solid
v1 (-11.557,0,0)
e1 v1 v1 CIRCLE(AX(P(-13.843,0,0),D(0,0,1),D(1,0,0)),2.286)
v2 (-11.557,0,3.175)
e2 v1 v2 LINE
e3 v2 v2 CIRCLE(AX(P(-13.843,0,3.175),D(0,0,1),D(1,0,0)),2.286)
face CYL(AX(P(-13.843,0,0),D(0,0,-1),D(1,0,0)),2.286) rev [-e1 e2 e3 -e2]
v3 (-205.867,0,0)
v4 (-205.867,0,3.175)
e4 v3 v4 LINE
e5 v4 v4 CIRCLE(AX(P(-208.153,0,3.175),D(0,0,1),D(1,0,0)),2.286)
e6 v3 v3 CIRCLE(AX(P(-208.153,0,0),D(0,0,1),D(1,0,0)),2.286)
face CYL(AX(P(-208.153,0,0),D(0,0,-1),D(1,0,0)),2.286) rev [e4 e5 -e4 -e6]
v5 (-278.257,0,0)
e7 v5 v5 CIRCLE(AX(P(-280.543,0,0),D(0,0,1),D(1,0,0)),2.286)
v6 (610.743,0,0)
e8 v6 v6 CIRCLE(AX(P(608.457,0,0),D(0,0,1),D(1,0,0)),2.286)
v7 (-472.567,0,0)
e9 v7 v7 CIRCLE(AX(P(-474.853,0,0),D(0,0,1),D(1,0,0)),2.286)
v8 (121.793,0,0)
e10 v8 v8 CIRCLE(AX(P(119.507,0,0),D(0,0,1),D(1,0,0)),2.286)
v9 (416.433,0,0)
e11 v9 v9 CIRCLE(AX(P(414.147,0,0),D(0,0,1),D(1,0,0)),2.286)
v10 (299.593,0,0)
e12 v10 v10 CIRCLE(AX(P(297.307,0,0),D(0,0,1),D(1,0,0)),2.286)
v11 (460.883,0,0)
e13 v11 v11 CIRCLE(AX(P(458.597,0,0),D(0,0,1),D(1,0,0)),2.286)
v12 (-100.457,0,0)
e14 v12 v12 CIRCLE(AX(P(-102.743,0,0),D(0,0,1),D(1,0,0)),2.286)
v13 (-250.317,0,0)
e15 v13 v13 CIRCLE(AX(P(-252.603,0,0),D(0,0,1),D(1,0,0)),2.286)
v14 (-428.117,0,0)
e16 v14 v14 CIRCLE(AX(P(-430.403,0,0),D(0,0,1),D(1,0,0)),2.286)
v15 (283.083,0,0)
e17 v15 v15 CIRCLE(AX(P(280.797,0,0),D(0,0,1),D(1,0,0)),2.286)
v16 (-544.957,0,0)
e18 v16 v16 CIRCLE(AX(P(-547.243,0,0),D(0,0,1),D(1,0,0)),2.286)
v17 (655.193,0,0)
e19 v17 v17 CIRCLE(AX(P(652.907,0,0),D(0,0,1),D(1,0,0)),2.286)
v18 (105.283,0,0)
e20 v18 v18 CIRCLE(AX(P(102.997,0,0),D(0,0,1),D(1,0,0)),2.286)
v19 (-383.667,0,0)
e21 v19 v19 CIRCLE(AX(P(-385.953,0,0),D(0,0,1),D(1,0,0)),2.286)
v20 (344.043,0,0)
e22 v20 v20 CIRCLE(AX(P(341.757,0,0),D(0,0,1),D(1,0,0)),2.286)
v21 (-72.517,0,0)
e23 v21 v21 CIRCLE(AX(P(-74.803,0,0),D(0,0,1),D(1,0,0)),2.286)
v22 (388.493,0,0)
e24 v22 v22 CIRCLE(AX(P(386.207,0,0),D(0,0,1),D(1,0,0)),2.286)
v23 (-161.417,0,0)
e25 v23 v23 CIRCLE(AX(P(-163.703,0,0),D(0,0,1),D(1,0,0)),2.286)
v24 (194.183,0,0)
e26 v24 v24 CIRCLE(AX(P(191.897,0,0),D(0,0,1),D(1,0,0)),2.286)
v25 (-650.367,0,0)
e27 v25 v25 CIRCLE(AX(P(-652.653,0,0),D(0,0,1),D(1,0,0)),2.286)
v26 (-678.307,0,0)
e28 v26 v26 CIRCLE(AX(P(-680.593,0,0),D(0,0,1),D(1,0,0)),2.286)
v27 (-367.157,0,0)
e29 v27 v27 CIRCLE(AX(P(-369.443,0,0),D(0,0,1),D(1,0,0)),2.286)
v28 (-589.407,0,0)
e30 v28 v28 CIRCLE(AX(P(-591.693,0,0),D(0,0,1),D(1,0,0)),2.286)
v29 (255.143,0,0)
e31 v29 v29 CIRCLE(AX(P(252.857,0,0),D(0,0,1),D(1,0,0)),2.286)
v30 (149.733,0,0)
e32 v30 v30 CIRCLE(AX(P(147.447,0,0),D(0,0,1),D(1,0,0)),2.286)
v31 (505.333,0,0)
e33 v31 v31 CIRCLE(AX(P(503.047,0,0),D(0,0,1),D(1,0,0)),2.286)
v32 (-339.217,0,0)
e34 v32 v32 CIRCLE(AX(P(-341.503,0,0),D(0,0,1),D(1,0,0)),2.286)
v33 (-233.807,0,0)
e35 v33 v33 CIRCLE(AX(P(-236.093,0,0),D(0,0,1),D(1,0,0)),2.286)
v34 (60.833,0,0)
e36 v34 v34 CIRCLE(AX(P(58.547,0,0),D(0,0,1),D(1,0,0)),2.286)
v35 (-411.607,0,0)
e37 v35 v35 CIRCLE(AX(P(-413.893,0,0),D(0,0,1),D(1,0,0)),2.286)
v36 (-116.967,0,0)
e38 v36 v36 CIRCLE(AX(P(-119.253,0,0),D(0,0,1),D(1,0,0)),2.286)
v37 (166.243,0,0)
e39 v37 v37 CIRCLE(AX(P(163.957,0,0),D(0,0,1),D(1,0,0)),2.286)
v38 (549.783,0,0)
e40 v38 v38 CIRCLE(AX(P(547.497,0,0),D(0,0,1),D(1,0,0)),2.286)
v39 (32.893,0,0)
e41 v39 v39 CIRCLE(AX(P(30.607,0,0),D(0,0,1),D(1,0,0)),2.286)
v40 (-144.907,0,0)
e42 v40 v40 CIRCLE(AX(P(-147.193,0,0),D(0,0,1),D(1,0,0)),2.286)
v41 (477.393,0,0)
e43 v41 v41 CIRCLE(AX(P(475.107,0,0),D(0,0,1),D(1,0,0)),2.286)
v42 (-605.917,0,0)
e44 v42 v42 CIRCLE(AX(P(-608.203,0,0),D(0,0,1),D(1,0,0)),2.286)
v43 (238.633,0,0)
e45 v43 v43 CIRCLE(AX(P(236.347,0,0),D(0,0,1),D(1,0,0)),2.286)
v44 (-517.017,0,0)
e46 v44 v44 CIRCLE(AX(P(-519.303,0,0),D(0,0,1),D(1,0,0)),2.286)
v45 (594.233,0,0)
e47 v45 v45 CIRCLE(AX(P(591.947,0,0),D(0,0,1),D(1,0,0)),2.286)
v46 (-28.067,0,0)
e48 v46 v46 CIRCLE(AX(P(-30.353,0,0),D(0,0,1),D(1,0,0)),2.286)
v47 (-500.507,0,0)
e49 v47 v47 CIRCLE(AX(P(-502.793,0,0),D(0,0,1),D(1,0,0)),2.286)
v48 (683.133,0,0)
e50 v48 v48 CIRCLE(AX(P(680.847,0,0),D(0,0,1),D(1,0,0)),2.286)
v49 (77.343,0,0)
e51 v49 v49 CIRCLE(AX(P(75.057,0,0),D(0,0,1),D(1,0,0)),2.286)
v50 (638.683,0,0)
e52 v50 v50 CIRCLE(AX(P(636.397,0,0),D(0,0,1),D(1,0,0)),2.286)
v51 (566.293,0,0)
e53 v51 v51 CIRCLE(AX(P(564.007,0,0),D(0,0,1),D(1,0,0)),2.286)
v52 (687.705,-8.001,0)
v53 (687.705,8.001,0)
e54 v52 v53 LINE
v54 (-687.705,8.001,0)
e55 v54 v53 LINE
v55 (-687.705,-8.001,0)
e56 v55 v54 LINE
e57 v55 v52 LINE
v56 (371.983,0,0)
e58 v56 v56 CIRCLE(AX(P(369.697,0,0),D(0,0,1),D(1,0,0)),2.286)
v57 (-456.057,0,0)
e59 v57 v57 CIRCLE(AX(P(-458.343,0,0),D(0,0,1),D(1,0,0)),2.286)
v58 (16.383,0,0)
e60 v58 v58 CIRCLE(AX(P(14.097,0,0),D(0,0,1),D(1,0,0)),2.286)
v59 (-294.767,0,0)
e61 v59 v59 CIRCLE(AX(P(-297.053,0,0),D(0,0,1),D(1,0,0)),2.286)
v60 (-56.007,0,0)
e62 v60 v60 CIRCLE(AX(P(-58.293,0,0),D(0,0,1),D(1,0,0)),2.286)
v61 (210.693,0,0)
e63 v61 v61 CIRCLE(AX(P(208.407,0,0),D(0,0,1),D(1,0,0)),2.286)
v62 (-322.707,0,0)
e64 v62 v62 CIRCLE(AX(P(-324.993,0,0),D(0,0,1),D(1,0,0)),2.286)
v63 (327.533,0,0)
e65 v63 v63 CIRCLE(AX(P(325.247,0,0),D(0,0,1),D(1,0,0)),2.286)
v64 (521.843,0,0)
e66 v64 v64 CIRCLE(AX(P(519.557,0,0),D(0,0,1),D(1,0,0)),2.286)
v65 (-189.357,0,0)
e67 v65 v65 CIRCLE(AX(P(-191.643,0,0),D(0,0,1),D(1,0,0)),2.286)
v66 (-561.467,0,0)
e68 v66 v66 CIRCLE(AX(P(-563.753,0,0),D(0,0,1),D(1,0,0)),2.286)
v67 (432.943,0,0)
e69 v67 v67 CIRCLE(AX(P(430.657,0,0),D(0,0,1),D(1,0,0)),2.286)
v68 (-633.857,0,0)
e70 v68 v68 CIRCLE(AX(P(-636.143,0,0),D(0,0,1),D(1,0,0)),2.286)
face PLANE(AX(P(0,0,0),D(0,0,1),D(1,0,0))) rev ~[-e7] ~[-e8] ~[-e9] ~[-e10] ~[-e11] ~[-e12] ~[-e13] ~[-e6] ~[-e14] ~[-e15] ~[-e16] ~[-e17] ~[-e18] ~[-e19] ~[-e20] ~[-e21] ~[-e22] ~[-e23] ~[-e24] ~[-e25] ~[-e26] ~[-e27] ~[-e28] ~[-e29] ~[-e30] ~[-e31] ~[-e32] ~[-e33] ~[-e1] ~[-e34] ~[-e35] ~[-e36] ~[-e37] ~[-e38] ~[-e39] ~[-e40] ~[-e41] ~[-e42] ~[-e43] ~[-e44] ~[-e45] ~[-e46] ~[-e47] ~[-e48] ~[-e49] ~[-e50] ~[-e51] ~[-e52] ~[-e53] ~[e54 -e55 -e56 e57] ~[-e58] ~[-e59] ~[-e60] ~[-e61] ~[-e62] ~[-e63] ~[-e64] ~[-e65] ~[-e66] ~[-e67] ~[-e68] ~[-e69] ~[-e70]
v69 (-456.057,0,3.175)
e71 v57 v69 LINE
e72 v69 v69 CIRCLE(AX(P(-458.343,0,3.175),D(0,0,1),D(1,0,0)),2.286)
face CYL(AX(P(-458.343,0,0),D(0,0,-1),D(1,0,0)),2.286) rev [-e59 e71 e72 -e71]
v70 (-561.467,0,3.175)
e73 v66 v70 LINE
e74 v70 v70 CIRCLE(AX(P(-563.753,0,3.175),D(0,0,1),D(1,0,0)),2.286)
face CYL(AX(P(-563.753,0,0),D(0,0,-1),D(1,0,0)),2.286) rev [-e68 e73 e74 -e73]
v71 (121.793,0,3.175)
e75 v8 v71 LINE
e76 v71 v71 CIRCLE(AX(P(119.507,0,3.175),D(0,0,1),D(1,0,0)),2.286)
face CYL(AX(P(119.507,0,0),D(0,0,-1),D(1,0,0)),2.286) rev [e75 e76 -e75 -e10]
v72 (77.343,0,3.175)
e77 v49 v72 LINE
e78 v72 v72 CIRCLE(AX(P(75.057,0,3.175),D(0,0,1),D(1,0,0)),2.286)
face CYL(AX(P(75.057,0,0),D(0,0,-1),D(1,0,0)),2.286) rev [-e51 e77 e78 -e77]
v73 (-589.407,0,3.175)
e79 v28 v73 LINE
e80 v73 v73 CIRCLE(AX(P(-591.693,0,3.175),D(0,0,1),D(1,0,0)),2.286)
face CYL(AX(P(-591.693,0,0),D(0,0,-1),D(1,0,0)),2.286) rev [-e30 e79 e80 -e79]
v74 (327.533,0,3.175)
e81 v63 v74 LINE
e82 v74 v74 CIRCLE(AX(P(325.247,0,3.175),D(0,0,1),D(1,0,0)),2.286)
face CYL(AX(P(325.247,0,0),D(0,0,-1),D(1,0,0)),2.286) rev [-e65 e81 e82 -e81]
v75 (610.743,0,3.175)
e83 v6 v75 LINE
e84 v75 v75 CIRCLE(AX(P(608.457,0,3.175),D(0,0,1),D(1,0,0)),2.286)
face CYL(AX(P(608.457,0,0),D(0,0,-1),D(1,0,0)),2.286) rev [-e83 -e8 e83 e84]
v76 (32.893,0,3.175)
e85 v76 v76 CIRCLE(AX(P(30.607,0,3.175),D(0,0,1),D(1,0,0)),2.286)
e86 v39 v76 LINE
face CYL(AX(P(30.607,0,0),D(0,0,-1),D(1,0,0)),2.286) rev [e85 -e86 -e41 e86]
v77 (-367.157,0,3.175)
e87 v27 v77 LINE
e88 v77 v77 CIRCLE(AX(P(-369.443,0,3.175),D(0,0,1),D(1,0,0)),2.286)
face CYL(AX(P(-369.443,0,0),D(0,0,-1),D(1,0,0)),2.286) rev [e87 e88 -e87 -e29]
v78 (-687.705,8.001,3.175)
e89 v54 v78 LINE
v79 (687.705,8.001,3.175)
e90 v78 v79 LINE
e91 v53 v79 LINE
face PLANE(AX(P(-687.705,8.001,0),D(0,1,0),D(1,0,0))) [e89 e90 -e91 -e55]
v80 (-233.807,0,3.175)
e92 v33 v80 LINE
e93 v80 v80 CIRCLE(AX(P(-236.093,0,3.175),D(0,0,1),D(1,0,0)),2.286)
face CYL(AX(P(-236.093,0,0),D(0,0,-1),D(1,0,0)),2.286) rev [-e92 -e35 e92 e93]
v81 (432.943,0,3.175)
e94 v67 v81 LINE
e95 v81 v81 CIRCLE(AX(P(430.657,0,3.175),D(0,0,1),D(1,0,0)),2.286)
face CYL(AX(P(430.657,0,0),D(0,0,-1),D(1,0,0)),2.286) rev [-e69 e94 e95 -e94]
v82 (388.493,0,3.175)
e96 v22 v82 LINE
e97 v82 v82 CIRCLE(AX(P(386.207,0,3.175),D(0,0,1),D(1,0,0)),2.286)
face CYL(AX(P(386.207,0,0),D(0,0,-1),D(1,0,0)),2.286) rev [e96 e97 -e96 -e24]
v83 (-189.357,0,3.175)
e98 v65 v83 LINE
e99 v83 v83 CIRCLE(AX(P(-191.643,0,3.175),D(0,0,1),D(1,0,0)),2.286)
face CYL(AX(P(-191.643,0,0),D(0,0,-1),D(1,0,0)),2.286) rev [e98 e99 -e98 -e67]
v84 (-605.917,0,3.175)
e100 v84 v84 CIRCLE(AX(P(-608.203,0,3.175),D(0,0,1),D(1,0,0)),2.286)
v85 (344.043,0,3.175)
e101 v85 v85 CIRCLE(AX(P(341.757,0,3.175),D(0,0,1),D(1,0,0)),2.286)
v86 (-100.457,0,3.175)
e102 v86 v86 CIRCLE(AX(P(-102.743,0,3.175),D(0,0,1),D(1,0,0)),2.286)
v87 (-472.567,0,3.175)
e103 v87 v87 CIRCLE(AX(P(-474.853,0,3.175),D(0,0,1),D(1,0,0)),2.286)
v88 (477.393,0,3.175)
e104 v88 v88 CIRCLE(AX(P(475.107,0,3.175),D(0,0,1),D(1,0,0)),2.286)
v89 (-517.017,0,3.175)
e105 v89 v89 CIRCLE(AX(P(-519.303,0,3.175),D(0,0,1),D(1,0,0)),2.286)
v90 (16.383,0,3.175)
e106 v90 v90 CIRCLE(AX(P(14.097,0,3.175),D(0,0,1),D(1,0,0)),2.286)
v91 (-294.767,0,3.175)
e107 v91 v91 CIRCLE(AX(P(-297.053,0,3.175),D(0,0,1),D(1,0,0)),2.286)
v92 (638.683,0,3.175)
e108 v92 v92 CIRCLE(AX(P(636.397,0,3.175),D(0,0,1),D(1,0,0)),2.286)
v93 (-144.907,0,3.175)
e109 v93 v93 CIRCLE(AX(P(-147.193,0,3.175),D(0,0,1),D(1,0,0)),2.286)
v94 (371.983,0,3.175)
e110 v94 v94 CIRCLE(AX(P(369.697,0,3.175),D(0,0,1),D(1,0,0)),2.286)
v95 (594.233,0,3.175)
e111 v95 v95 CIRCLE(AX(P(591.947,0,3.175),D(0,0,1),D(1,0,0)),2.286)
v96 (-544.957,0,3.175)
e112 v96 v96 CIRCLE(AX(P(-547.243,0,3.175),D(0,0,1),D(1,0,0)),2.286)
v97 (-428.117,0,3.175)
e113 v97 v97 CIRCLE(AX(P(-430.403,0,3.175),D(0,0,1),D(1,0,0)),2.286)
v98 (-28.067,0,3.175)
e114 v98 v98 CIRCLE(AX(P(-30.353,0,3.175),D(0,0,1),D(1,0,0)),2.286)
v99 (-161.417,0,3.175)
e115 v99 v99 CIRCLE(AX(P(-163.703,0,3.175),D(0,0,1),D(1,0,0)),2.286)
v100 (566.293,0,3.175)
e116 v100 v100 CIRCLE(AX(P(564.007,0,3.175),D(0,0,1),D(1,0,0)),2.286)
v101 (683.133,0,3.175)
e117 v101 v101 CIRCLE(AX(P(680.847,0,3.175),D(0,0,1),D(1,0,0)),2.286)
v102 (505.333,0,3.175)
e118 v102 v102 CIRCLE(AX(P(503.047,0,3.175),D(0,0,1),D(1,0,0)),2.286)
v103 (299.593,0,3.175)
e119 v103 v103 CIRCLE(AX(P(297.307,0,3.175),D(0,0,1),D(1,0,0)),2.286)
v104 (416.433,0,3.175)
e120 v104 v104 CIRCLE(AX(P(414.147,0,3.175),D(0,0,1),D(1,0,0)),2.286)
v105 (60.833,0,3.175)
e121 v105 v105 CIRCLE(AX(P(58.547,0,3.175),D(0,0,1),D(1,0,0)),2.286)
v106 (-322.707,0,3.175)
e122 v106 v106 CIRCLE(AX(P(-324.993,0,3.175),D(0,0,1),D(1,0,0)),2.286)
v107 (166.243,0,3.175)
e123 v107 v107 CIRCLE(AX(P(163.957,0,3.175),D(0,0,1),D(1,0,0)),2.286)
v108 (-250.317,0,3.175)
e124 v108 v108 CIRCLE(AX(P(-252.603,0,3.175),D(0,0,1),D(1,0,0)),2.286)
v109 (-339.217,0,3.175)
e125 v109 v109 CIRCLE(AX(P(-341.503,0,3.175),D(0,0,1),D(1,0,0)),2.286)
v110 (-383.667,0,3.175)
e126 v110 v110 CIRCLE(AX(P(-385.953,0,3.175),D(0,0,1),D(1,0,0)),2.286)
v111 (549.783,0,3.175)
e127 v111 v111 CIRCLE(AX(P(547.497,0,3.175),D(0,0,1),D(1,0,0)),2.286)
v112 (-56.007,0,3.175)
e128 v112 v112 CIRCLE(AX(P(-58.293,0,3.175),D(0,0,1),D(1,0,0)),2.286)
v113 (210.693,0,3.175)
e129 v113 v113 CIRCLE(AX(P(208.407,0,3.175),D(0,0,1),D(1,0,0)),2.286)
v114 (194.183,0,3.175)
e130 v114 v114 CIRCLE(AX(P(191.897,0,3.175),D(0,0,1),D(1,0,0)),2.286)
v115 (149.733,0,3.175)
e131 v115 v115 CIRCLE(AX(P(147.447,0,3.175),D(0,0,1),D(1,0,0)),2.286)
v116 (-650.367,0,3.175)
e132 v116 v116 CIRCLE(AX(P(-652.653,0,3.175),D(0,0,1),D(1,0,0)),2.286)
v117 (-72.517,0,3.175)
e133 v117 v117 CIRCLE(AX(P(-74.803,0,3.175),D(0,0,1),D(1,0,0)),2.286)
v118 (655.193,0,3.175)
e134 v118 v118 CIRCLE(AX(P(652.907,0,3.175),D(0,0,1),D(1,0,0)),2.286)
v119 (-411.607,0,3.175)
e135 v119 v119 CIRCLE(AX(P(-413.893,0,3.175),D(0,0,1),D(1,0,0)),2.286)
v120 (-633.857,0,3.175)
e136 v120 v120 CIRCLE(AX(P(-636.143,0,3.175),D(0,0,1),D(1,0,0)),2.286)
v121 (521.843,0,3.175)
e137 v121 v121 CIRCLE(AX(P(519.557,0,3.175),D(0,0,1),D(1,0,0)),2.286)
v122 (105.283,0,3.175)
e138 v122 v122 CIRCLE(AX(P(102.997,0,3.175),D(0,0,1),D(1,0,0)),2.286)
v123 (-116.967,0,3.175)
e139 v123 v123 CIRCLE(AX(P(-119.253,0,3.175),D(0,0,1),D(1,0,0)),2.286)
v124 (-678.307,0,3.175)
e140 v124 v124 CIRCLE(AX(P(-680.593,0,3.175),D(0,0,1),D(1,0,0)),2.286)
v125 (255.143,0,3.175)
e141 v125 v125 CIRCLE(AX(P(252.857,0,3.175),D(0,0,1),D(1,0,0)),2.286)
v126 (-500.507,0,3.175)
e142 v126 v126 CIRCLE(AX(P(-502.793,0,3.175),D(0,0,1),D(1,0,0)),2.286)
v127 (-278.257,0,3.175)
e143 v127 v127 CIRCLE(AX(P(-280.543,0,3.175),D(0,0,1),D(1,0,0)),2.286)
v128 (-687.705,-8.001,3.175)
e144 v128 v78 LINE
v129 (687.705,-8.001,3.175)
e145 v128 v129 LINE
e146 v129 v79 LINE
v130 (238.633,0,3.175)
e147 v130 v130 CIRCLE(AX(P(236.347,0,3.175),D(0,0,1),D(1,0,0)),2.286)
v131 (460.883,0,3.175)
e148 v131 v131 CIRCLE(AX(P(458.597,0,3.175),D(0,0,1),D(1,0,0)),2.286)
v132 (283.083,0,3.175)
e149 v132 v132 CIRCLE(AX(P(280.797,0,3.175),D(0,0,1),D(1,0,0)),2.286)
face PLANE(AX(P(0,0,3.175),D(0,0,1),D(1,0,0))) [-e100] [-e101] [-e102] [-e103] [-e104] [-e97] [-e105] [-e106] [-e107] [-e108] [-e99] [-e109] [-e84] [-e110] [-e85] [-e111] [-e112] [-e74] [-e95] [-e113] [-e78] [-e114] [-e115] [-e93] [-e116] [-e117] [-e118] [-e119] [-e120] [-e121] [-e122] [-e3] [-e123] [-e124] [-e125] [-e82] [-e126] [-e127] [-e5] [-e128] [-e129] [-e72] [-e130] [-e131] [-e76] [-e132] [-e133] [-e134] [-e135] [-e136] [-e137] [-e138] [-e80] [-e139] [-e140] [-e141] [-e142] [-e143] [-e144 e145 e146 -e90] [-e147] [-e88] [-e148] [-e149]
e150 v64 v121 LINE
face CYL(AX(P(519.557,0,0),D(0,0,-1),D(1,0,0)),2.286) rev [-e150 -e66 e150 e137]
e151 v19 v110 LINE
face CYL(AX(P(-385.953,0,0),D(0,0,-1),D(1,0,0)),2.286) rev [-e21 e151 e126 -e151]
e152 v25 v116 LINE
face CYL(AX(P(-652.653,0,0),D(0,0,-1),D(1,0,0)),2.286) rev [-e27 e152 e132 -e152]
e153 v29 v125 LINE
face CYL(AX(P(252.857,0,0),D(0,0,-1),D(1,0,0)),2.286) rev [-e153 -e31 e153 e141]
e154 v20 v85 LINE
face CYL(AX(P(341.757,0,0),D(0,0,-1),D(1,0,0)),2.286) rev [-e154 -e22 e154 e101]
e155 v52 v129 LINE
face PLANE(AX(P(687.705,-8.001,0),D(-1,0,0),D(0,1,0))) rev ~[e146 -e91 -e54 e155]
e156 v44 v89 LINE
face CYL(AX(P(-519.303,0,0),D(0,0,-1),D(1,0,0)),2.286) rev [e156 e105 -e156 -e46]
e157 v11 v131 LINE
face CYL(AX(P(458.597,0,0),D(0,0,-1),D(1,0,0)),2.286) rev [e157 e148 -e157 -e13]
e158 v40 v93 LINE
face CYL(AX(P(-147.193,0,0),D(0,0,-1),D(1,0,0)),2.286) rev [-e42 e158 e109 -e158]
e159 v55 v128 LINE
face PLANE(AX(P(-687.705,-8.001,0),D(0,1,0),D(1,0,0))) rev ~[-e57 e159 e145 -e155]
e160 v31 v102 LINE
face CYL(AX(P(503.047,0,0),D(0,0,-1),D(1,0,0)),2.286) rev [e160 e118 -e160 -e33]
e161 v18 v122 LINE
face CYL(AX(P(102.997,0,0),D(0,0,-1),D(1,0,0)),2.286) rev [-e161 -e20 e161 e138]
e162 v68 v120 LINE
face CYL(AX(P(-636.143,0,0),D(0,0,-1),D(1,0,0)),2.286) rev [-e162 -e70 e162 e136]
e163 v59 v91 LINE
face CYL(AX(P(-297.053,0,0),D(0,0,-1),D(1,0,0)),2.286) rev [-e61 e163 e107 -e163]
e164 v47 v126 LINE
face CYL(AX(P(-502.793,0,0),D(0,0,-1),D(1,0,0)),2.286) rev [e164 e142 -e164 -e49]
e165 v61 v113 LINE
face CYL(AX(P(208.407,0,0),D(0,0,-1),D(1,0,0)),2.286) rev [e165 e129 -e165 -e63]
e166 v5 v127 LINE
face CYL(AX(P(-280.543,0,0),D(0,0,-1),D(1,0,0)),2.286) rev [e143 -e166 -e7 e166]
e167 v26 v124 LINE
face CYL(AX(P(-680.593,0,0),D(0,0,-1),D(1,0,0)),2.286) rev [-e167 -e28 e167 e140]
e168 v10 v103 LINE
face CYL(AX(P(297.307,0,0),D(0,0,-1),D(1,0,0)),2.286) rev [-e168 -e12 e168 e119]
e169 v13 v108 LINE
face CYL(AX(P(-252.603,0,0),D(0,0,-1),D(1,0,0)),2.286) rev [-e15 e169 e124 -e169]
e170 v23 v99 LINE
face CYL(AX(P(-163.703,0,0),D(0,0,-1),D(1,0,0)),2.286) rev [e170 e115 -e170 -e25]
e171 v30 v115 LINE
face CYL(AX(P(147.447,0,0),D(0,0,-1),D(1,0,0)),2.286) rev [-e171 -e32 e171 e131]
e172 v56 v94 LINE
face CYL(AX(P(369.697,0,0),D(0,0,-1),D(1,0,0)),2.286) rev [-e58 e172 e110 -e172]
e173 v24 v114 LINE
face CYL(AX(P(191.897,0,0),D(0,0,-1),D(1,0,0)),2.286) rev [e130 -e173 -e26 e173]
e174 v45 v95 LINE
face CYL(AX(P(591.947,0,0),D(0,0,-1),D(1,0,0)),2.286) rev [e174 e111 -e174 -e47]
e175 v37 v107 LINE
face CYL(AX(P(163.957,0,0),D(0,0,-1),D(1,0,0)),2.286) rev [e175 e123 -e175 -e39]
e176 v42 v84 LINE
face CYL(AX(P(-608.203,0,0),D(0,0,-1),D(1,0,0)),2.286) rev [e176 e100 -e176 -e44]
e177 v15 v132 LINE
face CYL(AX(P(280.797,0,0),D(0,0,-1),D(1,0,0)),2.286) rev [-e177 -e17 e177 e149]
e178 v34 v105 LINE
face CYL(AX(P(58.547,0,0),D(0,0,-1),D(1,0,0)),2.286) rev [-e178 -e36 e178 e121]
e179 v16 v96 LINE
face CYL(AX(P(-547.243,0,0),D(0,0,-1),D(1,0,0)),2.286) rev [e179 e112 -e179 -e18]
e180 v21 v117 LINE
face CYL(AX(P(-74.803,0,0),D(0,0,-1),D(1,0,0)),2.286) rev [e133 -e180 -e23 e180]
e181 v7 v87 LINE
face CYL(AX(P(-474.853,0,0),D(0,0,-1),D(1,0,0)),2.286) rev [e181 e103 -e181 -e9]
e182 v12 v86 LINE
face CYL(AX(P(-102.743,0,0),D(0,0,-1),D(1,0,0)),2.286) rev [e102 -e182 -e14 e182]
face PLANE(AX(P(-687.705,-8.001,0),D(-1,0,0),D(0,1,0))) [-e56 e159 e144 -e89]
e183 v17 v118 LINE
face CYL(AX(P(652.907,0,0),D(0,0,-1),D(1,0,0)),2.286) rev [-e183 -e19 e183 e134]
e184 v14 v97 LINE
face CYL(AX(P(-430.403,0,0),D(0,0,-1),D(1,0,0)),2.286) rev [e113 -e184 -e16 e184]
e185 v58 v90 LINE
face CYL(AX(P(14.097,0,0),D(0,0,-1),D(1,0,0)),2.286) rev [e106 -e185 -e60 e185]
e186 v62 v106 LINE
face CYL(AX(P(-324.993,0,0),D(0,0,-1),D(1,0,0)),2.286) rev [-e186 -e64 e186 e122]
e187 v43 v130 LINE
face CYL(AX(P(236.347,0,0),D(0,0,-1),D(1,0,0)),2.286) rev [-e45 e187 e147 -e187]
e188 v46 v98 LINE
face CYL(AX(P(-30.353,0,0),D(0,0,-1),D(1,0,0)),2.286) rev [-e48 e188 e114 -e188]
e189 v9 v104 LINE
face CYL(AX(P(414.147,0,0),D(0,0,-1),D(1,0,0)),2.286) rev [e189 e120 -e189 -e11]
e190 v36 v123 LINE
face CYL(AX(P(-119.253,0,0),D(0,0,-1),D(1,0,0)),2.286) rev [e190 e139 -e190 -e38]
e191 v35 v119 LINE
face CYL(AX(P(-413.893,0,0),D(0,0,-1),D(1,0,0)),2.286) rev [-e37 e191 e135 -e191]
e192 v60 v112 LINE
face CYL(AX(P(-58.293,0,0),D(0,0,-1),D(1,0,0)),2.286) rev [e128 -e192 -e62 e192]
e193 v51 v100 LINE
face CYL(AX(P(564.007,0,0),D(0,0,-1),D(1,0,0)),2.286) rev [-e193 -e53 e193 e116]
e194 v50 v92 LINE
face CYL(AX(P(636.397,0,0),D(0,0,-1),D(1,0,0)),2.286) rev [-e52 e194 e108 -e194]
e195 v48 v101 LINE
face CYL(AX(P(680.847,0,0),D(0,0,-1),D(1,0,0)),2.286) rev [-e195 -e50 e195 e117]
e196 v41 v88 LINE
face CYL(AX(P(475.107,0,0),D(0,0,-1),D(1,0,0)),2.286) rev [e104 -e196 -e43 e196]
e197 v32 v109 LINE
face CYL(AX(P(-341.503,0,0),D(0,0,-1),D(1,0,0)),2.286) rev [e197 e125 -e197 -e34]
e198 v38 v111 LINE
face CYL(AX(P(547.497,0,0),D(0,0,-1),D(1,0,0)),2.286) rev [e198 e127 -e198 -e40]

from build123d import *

# Parameters (mm, degrees)
F0_W     = 1375.41
F0_H     = 16.002
F0_R     = 2.286
F1_DEPTH = 3.175


with BuildPart() as f1:
    # F0 (on Top) → F1 (new body)
    with BuildSketch(Plane.XY):
        Rectangle(F0_W, F0_H)
        with Locations((-680.593, 0)):
            Circle(F0_R, mode=Mode.SUBTRACT)
        with Locations((-652.653, 0)):
            Circle(F0_R, mode=Mode.SUBTRACT)
        with Locations((-636.143, 0)):
            Circle(F0_R, mode=Mode.SUBTRACT)
        with Locations((-608.203, 0)):
            Circle(F0_R, mode=Mode.SUBTRACT)
        with Locations((-591.693, 0)):
            Circle(F0_R, mode=Mode.SUBTRACT)
        with Locations((-563.753, 0)):
            Circle(F0_R, mode=Mode.SUBTRACT)
        with Locations((-547.243, 0)):
            Circle(F0_R, mode=Mode.SUBTRACT)
        with Locations((-519.303, 0)):
            Circle(F0_R, mode=Mode.SUBTRACT)
        with Locations((-502.793, 0)):
            Circle(F0_R, mode=Mode.SUBTRACT)
        with Locations((-474.853, 0)):
            Circle(F0_R, mode=Mode.SUBTRACT)
        with Locations((-458.343, 0)):
            Circle(F0_R, mode=Mode.SUBTRACT)
        with Locations((-430.403, 0)):
            Circle(F0_R, mode=Mode.SUBTRACT)
        with Locations((-413.893, 0)):
            Circle(F0_R, mode=Mode.SUBTRACT)
        with Locations((-385.953, 0)):
            Circle(F0_R, mode=Mode.SUBTRACT)
        with Locations((-369.443, 0)):
            Circle(F0_R, mode=Mode.SUBTRACT)
        with Locations((-341.503, 0)):
            Circle(F0_R, mode=Mode.SUBTRACT)
        with Locations((-324.993, 0)):
            Circle(F0_R, mode=Mode.SUBTRACT)
        with Locations((-297.053, 0)):
            Circle(F0_R, mode=Mode.SUBTRACT)
        with Locations((-280.543, 0)):
            Circle(F0_R, mode=Mode.SUBTRACT)
        with Locations((-252.603, 0)):
            Circle(F0_R, mode=Mode.SUBTRACT)
        with Locations((-236.093, 0)):
            Circle(F0_R, mode=Mode.SUBTRACT)
        with Locations((-208.153, 0)):
            Circle(F0_R, mode=Mode.SUBTRACT)
        with Locations((-191.643, 0)):
            Circle(F0_R, mode=Mode.SUBTRACT)
        with Locations((-163.703, 0)):
            Circle(F0_R, mode=Mode.SUBTRACT)
        with Locations((-147.193, 0)):
            Circle(F0_R, mode=Mode.SUBTRACT)
        with Locations((-119.253, 0)):
            Circle(F0_R, mode=Mode.SUBTRACT)
        with Locations((-102.743, 0)):
            Circle(F0_R, mode=Mode.SUBTRACT)
        with Locations((-74.803, 0)):
            Circle(F0_R, mode=Mode.SUBTRACT)
        with Locations((-58.293, 0)):
            Circle(F0_R, mode=Mode.SUBTRACT)
        with Locations((-30.353, 0)):
            Circle(F0_R, mode=Mode.SUBTRACT)
        with Locations((-13.843, 0)):
            Circle(F0_R, mode=Mode.SUBTRACT)
        with Locations((14.097, 0)):
            Circle(F0_R, mode=Mode.SUBTRACT)
        with Locations((30.607, 0)):
            Circle(F0_R, mode=Mode.SUBTRACT)
        with Locations((58.547, 0)):
            Circle(F0_R, mode=Mode.SUBTRACT)
        with Locations((75.057, 0)):
            Circle(F0_R, mode=Mode.SUBTRACT)
        with Locations((102.997, 0)):
            Circle(F0_R, mode=Mode.SUBTRACT)
        with Locations((119.507, 0)):
            Circle(F0_R, mode=Mode.SUBTRACT)
        with Locations((147.447, 0)):
            Circle(F0_R, mode=Mode.SUBTRACT)
        with Locations((163.957, 0)):
            Circle(F0_R, mode=Mode.SUBTRACT)
        with Locations((191.897, 0)):
            Circle(F0_R, mode=Mode.SUBTRACT)
        with Locations((208.407, 0)):
            Circle(F0_R, mode=Mode.SUBTRACT)
        with Locations((236.347, 0)):
            Circle(F0_R, mode=Mode.SUBTRACT)
        with Locations((252.857, 0)):
            Circle(F0_R, mode=Mode.SUBTRACT)
        with Locations((280.797, 0)):
            Circle(F0_R, mode=Mode.SUBTRACT)
        with Locations((297.307, 0)):
            Circle(F0_R, mode=Mode.SUBTRACT)
        with Locations((325.247, 0)):
            Circle(F0_R, mode=Mode.SUBTRACT)
        with Locations((341.757, 0)):
            Circle(F0_R, mode=Mode.SUBTRACT)
        with Locations((369.697, 0)):
            Circle(F0_R, mode=Mode.SUBTRACT)
        with Locations((386.207, 0)):
            Circle(F0_R, mode=Mode.SUBTRACT)
        with Locations((414.147, 0)):
            Circle(F0_R, mode=Mode.SUBTRACT)
        with Locations((430.657, 0)):
            Circle(F0_R, mode=Mode.SUBTRACT)
        with Locations((458.597, 0)):
            Circle(F0_R, mode=Mode.SUBTRACT)
        with Locations((475.107, 0)):
            Circle(F0_R, mode=Mode.SUBTRACT)
        with Locations((503.047, 0)):
            Circle(F0_R, mode=Mode.SUBTRACT)
        with Locations((519.557, 0)):
            Circle(F0_R, mode=Mode.SUBTRACT)
        with Locations((547.497, 0)):
            Circle(F0_R, mode=Mode.SUBTRACT)
        with Locations((564.007, 0)):
            Circle(F0_R, mode=Mode.SUBTRACT)
        with Locations((591.947, 0)):
            Circle(F0_R, mode=Mode.SUBTRACT)
        with Locations((608.457, 0)):
            Circle(F0_R, mode=Mode.SUBTRACT)
        with Locations((636.397, 0)):
            Circle(F0_R, mode=Mode.SUBTRACT)
        with Locations((652.907, 0)):
            Circle(F0_R, mode=Mode.SUBTRACT)
        with Locations((680.847, 0)):
            Circle(F0_R, mode=Mode.SUBTRACT)
    extrude(amount=F1_DEPTH)


solid = f1.part
